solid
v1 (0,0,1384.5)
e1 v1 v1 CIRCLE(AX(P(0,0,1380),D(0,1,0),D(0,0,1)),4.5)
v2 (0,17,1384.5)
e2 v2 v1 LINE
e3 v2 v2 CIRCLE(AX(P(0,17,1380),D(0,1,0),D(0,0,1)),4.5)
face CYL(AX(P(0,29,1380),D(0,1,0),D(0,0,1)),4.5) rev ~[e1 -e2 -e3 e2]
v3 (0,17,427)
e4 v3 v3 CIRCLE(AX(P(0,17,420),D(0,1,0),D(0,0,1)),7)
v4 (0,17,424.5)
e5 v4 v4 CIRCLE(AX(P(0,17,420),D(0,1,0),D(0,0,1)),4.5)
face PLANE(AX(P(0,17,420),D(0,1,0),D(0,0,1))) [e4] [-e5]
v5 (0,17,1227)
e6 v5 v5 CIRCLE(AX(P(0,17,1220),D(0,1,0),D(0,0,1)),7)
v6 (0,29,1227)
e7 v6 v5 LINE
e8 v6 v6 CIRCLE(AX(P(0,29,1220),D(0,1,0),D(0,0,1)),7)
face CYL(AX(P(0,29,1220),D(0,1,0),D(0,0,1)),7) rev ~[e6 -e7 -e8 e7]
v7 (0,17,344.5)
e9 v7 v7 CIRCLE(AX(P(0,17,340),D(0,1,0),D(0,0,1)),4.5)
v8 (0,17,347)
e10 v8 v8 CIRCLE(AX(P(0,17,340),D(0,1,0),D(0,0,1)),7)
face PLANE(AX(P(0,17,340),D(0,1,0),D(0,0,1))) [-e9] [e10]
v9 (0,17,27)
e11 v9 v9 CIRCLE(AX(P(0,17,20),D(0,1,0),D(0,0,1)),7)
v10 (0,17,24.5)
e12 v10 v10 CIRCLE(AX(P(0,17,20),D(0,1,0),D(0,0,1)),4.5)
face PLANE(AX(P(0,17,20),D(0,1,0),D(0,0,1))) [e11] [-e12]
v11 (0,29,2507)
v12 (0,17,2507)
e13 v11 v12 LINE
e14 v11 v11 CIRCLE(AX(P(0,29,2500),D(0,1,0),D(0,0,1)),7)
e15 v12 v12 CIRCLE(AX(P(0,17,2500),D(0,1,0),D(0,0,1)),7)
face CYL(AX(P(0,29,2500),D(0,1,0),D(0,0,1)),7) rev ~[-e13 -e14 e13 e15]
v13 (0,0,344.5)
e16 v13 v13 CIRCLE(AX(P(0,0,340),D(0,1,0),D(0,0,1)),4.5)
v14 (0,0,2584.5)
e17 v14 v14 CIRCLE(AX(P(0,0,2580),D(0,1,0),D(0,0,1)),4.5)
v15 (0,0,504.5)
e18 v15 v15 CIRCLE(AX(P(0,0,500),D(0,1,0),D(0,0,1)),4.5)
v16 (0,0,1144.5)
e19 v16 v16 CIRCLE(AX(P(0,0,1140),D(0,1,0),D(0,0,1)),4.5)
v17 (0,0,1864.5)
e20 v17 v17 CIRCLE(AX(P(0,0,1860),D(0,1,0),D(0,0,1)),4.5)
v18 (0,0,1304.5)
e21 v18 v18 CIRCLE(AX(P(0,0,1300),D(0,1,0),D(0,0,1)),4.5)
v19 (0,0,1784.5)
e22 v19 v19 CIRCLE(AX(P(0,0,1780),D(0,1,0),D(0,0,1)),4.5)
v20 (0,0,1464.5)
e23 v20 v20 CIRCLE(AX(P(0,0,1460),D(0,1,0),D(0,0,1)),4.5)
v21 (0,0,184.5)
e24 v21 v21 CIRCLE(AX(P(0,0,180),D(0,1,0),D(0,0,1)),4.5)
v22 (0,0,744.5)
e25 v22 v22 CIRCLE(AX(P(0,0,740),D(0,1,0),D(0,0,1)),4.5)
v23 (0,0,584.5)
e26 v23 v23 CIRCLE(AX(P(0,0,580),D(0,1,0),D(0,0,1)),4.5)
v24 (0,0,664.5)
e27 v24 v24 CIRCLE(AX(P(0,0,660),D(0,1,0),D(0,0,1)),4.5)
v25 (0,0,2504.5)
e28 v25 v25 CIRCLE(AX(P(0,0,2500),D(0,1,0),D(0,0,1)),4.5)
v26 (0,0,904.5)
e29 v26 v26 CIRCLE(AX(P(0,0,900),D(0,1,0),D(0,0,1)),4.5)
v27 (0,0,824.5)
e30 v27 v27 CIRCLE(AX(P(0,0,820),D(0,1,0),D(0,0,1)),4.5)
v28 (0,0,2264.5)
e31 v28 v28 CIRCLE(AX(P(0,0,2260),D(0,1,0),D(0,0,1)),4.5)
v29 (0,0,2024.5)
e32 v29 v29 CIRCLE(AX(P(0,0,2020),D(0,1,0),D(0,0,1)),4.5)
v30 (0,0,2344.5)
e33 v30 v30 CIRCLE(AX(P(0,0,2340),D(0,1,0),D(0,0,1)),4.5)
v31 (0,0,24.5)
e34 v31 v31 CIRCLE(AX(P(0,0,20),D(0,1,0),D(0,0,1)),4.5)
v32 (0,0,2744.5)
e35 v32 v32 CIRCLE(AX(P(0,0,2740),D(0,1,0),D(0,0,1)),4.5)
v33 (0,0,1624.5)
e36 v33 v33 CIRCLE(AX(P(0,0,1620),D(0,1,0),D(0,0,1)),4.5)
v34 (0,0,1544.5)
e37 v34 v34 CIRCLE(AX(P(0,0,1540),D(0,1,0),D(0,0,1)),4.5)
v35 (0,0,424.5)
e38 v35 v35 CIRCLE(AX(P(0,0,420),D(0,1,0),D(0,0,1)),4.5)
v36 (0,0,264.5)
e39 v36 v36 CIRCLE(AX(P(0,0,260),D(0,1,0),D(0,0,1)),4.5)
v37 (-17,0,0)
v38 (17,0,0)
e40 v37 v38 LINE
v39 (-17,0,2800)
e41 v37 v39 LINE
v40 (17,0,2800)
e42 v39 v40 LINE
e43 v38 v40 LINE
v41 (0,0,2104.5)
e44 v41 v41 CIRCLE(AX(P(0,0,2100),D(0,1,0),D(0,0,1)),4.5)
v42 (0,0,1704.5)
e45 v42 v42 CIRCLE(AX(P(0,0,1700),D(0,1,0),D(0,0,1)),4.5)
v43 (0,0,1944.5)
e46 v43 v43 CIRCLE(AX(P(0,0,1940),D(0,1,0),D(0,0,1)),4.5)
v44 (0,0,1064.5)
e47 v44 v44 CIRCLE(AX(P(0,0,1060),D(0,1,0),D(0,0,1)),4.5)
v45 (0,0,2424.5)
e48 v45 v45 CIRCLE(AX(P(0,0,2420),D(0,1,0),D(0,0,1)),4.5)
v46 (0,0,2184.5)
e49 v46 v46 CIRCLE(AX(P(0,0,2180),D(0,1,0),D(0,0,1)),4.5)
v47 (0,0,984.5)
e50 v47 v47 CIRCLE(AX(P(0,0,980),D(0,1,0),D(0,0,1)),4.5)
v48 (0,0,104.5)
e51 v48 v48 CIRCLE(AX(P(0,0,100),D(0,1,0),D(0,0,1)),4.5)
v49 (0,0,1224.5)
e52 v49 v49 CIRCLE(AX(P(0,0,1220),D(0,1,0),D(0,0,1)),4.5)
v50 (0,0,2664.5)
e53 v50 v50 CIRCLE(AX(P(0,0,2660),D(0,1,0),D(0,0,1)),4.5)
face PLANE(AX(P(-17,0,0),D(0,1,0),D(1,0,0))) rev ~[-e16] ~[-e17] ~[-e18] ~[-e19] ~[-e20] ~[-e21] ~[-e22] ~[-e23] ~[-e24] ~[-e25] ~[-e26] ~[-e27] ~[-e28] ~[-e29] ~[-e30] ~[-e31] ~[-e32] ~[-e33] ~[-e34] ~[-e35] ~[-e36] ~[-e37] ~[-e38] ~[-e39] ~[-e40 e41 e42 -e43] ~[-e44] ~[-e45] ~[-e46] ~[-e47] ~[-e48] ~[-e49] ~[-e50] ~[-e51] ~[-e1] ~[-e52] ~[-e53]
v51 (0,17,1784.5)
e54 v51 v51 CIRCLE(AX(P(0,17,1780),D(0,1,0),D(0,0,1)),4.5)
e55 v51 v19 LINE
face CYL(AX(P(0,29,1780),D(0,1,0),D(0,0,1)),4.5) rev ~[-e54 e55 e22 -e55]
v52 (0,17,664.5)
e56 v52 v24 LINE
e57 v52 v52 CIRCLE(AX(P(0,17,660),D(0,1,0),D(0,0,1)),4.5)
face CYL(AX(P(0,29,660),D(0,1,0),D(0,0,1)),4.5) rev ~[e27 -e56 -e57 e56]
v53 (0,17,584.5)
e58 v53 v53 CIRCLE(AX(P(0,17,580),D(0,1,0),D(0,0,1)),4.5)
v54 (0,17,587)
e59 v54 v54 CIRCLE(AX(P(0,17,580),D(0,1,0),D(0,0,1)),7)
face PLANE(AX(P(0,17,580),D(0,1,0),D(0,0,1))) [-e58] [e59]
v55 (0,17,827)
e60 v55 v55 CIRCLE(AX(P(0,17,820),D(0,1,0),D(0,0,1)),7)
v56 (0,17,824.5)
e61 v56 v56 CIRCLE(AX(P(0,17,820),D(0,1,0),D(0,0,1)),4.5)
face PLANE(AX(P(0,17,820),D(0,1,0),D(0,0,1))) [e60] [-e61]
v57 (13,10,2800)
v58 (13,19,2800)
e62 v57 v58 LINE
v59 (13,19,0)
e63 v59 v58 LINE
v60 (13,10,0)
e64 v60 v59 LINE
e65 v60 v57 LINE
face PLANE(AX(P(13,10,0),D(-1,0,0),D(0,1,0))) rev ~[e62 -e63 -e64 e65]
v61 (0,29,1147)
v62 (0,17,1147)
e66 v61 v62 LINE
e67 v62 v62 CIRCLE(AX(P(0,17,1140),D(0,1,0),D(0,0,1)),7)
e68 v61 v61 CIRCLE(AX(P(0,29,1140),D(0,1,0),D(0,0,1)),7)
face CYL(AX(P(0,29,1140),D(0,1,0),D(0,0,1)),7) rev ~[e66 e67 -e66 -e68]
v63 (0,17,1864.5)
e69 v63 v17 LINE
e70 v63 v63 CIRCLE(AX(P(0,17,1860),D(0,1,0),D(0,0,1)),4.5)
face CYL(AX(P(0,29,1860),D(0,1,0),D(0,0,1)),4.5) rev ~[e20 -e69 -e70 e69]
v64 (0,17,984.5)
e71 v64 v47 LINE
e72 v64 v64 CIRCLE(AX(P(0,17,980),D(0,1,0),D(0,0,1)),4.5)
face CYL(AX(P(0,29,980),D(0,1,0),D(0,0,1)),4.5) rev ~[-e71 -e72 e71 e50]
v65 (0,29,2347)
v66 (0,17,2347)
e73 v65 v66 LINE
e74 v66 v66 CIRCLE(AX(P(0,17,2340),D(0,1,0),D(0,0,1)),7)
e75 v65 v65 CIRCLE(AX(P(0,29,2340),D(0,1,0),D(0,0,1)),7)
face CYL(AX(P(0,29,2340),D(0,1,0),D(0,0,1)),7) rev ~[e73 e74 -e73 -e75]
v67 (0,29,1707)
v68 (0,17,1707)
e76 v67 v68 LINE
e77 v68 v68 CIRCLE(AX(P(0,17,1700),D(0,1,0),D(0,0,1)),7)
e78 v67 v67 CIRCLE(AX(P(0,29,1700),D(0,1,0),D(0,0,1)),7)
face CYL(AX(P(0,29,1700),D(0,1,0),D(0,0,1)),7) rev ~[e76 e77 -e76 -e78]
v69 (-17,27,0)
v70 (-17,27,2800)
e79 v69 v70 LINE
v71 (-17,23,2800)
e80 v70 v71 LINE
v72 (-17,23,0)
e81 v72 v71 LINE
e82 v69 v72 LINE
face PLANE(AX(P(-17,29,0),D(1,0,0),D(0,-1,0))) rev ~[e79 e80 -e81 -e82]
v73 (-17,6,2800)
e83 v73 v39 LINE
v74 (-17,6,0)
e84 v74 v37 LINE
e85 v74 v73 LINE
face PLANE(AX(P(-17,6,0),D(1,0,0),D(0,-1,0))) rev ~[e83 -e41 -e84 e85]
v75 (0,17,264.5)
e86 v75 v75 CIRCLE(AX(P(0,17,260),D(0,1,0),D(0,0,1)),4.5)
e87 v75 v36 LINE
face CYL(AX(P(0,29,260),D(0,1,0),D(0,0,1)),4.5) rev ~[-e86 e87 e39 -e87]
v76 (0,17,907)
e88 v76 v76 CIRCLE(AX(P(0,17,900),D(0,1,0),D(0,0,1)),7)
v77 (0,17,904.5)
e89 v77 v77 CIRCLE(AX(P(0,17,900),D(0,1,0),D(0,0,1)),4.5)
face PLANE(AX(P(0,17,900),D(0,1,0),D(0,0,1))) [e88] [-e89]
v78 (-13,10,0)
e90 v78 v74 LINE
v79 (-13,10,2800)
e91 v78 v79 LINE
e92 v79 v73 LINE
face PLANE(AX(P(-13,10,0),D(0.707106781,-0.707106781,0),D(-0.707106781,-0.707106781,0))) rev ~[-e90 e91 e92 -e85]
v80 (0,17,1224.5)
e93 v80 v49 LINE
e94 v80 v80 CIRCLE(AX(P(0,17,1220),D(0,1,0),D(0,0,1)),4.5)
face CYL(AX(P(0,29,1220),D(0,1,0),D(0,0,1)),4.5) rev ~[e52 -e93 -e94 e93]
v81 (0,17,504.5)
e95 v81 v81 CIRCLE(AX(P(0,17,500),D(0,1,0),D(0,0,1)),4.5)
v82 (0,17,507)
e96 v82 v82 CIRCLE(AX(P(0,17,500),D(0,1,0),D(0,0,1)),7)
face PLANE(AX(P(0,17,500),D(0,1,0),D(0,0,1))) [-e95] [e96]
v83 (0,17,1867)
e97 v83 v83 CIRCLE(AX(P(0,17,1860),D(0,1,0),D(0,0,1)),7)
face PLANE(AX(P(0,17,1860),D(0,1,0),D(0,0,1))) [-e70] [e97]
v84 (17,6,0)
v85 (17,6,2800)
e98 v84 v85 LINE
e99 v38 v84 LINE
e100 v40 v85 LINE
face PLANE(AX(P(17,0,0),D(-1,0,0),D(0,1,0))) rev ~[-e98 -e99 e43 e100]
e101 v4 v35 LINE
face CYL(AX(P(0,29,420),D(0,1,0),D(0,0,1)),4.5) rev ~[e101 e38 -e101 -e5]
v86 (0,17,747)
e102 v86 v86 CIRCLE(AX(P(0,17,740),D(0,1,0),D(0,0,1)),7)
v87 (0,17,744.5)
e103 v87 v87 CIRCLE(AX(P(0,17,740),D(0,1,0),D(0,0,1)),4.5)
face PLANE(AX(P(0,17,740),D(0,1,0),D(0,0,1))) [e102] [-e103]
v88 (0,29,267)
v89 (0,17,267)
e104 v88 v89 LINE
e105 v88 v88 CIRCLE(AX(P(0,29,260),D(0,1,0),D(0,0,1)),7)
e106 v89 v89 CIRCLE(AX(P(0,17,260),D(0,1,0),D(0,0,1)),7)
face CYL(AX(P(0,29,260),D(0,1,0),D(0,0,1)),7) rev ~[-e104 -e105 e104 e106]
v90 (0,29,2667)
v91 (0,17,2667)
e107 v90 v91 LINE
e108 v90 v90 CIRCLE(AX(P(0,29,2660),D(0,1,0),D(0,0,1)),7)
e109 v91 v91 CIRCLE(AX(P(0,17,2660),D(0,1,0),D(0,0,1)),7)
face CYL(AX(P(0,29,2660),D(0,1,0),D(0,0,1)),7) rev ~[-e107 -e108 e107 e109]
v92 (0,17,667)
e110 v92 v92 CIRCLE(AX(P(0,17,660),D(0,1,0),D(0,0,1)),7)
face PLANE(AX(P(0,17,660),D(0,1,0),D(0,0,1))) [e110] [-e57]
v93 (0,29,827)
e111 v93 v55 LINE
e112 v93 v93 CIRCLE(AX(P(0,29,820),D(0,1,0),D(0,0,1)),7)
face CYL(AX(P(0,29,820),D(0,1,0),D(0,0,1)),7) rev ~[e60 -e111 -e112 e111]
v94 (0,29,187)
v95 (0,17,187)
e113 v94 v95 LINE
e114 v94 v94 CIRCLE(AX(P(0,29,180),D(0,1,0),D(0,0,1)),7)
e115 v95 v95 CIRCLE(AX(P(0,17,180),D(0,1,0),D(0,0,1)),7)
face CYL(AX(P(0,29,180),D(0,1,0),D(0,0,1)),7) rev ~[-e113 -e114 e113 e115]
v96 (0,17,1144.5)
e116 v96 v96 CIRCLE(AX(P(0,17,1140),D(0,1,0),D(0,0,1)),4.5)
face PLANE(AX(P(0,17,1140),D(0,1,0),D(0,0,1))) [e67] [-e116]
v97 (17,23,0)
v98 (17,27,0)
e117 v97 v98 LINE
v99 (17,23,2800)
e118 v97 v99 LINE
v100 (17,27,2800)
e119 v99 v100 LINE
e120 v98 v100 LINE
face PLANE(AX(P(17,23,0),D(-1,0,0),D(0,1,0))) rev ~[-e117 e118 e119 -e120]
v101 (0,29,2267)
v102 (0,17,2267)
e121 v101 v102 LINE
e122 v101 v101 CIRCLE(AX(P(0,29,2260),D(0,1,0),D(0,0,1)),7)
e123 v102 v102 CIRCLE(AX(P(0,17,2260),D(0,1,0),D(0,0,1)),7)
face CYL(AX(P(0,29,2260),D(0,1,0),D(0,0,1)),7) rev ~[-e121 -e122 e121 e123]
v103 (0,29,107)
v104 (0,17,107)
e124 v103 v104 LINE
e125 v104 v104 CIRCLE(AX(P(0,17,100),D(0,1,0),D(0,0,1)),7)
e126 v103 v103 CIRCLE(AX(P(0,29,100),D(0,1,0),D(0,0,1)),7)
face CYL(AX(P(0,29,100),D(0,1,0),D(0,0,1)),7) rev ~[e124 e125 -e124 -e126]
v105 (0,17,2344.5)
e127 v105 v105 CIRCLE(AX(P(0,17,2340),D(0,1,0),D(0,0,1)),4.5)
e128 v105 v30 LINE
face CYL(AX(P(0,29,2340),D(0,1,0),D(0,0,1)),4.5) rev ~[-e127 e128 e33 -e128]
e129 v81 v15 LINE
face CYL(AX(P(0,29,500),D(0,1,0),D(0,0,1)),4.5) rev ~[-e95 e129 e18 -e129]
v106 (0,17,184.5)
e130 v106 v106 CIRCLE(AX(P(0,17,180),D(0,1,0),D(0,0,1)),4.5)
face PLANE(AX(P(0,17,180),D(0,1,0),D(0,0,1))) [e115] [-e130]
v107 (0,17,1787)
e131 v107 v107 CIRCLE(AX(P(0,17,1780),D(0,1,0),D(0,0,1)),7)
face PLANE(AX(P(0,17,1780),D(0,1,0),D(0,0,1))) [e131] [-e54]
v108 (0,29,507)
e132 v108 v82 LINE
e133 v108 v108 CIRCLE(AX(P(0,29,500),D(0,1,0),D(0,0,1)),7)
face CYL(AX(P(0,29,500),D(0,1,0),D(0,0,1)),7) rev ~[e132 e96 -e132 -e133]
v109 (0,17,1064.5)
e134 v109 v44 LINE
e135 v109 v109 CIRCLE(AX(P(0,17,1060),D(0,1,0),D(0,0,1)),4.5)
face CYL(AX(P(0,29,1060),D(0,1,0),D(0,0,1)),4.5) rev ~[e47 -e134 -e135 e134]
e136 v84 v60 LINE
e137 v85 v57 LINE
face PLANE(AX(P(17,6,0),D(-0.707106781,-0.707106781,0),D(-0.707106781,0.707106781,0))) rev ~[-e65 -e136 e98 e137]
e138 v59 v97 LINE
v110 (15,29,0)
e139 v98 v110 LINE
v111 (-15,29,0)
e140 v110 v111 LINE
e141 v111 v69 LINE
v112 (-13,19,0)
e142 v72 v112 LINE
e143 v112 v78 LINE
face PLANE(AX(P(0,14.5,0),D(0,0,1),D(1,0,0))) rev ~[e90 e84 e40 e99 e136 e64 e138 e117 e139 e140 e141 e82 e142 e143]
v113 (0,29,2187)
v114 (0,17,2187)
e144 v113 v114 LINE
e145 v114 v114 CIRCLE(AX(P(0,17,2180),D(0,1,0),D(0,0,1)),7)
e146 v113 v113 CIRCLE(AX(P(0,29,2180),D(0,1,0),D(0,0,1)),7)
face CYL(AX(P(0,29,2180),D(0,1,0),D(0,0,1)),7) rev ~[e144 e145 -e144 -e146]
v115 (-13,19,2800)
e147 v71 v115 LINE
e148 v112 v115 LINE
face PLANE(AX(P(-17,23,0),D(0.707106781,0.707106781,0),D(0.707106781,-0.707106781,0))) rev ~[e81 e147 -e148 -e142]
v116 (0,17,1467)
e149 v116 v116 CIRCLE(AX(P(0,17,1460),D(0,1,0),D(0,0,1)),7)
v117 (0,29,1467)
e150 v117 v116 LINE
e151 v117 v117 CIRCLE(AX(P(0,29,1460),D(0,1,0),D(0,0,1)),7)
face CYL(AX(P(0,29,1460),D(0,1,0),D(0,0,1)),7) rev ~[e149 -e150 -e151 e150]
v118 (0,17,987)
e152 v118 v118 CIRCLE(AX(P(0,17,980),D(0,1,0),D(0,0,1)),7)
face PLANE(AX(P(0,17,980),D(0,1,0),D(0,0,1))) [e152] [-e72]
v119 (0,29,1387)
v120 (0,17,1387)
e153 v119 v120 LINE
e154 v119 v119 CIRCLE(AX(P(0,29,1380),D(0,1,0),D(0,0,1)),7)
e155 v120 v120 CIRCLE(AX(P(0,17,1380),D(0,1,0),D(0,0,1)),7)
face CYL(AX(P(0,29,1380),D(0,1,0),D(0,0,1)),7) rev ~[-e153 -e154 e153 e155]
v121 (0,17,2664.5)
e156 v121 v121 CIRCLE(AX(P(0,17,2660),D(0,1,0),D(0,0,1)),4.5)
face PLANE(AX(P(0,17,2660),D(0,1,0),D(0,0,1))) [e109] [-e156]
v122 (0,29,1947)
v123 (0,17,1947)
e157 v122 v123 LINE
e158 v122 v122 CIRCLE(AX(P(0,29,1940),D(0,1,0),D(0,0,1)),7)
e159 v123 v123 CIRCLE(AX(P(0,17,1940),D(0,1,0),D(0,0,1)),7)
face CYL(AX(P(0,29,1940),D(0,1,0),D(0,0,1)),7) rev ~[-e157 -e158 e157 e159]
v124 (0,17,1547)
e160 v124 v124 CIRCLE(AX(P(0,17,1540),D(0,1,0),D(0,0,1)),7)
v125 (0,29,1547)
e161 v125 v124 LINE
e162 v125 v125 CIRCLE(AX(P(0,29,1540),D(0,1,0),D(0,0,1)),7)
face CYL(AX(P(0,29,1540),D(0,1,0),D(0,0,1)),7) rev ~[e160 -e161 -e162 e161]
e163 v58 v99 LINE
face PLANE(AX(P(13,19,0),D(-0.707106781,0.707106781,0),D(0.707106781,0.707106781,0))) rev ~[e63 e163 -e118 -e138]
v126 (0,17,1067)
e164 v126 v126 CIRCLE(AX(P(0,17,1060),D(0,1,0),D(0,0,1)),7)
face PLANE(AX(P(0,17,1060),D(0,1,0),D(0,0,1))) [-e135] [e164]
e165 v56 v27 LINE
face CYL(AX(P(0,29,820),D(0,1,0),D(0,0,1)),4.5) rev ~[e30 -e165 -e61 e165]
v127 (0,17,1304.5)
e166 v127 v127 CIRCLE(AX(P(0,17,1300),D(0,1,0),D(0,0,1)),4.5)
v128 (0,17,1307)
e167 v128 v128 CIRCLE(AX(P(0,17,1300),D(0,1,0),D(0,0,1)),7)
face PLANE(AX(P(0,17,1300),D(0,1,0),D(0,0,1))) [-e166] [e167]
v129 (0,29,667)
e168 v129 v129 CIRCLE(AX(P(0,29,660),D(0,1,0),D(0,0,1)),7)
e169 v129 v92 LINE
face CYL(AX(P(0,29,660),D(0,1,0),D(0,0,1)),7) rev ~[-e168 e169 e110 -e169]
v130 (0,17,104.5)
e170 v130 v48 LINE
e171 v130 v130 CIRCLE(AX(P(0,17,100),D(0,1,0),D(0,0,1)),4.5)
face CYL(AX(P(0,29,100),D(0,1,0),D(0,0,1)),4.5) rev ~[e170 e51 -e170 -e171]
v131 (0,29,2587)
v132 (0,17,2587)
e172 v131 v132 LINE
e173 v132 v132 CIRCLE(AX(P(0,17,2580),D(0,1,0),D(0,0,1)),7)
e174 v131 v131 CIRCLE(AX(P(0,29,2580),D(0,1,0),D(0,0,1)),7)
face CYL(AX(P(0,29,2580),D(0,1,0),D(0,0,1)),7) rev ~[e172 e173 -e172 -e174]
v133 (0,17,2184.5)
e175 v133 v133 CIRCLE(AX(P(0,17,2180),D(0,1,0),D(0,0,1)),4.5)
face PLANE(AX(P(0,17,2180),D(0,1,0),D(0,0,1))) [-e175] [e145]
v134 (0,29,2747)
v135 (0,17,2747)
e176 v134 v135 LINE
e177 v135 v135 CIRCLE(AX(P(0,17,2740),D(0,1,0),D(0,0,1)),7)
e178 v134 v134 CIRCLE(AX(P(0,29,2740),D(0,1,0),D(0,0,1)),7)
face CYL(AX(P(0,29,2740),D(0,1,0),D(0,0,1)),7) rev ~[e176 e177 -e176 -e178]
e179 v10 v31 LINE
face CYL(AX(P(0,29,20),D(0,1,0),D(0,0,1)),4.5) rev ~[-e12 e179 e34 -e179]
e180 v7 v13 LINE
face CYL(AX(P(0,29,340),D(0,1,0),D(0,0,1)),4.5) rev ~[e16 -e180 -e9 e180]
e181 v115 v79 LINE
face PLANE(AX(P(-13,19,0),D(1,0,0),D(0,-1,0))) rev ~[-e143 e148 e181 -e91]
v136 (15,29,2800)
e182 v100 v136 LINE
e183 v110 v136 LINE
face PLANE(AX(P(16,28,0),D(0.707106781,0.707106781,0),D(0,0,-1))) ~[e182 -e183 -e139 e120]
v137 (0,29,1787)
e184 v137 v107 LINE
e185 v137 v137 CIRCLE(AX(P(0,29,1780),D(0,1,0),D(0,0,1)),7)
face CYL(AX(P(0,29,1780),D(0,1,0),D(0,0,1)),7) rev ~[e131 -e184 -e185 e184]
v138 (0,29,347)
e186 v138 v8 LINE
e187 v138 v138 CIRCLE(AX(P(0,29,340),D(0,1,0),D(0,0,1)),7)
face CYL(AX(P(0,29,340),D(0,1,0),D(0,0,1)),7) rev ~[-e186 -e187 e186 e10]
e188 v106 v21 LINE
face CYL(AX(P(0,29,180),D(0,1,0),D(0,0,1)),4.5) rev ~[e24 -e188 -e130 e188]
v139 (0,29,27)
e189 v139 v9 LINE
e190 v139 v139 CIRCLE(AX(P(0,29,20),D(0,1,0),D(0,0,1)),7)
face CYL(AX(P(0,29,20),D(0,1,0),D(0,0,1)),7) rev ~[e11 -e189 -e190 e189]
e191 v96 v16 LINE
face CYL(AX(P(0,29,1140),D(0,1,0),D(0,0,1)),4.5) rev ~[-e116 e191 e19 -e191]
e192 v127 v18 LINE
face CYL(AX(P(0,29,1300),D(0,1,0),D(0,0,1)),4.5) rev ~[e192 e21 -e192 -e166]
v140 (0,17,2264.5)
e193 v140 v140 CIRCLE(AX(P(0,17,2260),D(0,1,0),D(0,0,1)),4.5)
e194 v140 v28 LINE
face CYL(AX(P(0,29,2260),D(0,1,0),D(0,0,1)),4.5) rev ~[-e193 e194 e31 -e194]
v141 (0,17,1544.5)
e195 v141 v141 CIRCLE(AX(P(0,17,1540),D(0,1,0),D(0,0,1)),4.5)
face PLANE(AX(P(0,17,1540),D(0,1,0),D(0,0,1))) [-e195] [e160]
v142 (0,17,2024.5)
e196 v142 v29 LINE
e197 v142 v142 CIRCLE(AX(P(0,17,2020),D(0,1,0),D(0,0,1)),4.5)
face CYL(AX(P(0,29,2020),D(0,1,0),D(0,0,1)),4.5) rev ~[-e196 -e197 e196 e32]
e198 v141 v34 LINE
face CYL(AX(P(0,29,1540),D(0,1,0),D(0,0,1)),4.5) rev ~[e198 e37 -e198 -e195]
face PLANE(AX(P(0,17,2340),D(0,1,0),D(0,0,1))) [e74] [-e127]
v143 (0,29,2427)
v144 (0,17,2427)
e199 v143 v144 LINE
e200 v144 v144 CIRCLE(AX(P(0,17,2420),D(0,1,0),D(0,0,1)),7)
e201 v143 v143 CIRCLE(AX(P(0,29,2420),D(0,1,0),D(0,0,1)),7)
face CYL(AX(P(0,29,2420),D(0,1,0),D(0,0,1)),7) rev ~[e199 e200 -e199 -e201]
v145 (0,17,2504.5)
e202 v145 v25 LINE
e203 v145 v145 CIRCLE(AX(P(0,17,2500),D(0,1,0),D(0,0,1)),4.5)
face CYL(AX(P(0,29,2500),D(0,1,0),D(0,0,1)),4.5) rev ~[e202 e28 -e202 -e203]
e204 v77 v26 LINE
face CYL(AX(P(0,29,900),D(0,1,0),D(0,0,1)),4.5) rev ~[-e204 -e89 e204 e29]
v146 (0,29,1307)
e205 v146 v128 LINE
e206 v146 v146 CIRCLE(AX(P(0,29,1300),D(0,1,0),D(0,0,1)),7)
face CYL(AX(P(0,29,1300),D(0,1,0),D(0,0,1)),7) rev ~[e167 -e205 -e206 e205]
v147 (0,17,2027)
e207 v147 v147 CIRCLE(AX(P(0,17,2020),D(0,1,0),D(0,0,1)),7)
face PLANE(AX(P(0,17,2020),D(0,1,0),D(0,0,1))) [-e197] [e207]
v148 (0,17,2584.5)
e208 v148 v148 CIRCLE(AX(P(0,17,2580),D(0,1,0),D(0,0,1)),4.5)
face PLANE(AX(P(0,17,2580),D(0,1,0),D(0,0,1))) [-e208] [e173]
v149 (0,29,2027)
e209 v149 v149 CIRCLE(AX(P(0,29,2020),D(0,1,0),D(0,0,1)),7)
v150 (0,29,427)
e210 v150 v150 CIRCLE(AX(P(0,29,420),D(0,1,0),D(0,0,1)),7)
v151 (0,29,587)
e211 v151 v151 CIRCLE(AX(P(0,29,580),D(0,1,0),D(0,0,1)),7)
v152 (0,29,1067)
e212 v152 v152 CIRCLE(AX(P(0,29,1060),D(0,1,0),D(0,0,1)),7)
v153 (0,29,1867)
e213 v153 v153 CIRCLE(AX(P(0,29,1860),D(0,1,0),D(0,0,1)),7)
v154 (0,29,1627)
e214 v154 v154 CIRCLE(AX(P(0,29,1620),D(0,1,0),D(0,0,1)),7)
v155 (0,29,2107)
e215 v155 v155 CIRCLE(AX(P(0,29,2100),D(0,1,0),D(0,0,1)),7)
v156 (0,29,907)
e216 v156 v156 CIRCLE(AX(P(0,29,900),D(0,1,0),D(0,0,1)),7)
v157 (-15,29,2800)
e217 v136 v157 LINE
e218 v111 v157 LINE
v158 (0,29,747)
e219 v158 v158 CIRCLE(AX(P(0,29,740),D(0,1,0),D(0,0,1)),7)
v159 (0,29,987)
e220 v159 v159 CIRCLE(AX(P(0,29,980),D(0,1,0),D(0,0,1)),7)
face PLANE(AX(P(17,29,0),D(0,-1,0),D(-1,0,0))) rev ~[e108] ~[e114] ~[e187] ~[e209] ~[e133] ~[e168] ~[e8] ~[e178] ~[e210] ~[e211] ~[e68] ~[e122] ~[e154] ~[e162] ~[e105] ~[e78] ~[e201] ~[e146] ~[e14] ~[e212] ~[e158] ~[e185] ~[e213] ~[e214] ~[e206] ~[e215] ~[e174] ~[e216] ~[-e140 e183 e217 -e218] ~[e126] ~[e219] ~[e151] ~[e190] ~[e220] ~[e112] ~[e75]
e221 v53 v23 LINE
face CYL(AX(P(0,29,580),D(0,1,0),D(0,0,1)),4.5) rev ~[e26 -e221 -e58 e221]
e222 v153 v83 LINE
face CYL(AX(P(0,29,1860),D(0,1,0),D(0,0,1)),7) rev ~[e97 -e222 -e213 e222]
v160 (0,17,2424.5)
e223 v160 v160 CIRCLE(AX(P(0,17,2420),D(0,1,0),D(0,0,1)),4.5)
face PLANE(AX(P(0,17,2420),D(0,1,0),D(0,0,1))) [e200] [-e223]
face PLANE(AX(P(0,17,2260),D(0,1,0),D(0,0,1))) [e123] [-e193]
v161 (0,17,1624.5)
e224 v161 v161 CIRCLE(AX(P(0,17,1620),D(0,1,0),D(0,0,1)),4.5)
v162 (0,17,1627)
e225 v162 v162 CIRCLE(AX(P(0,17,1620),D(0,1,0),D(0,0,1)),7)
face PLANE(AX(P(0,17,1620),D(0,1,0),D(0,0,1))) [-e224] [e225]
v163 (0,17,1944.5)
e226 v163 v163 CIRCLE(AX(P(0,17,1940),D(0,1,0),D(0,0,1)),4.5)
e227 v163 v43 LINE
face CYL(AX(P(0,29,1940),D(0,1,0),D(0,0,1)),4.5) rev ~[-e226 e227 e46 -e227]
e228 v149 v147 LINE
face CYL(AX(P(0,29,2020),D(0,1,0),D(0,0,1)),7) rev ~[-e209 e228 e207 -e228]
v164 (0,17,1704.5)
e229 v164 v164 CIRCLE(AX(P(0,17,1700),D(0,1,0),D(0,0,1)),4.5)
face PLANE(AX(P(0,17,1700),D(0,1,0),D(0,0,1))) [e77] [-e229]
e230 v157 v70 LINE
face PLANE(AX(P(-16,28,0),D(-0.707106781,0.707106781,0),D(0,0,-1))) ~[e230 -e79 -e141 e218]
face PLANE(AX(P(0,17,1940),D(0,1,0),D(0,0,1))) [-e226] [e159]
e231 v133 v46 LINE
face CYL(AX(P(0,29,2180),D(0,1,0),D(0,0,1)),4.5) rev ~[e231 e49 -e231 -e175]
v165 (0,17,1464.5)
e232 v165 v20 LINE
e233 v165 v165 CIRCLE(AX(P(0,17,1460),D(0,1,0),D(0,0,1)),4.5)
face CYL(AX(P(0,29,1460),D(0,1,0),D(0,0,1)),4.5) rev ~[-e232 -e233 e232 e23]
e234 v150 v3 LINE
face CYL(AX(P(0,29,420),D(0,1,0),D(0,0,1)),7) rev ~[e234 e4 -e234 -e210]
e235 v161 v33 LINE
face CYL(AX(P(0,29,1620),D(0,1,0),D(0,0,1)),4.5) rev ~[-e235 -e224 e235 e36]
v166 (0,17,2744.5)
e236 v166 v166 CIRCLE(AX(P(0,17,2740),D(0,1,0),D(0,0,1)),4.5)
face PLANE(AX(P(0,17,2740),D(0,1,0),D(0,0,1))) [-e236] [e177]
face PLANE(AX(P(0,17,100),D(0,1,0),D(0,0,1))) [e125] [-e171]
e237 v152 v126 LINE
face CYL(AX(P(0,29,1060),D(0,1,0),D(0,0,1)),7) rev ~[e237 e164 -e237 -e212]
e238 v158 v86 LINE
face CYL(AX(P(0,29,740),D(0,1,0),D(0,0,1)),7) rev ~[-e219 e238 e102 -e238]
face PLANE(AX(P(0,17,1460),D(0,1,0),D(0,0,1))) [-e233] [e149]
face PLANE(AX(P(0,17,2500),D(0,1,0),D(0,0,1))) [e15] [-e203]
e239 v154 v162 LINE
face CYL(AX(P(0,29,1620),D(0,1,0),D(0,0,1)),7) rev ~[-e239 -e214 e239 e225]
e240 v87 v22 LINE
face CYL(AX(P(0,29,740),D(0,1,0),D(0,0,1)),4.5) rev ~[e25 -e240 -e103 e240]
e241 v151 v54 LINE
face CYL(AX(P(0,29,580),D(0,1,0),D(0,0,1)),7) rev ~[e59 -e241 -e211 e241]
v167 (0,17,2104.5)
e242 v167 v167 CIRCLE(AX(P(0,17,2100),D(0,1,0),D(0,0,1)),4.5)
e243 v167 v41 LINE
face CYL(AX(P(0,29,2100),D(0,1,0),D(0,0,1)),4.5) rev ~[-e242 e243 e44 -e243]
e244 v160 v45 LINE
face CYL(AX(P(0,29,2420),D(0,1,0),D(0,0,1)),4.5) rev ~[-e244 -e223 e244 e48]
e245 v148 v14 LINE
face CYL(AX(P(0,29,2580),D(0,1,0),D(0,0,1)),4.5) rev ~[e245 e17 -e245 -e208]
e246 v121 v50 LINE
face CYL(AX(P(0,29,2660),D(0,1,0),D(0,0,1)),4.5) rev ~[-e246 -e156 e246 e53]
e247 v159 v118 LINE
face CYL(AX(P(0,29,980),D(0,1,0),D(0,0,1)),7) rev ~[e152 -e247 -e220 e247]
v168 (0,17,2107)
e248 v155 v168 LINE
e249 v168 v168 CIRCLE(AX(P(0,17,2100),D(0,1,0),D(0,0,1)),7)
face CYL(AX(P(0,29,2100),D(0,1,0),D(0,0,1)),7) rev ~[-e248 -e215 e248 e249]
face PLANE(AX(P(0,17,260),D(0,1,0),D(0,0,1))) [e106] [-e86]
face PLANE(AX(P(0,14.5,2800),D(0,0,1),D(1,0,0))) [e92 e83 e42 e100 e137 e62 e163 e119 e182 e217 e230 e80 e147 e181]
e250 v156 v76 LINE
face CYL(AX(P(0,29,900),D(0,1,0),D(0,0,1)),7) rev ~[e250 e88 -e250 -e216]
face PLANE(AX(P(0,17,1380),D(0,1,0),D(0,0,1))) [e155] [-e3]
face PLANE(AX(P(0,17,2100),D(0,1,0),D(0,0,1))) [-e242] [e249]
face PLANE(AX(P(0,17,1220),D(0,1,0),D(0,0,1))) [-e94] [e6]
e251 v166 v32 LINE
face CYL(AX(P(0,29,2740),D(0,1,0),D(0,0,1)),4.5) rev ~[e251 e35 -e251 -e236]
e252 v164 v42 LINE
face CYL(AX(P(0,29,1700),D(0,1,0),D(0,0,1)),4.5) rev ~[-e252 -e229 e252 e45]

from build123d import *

# Parameters (mm, degrees)
EXTRUDE_1_DEPTH        = 2800
CHAMFER_1_SIZE         = 2
SKETCH_2_R             = 7
CUT_EXTRUDE_1_DEPTH    = 12
PATTERN_LINEAR_1_COUNT = 35
PATTERN_LINEAR_1_PITCH = 80
SKETCH_3_R             = 4.5
CUT_EXTRUDE_2_DEPTH    = 40
PATTERN_LINEAR_2_COUNT = 35
PATTERN_LINEAR_2_PITCH = 80


with BuildPart() as part:
    # 草图1 → 凸台-拉伸1 (new body)
    with BuildSketch(Plane.XY):
        Polygon((-17, 0), (17, 0), (17, 6), (13, 10), (13, 19), (17, 23), (17, 29), (-17, 29), (-17, 23), (-13, 19), (-13, 10), (-17, 6), align=None)
    extrude(amount=EXTRUDE_1_DEPTH)

    # 倒角1
    chamfer_1_edges = [part.edges().sort_by_distance(p)[0] for p in [
        (-17, 29, 1400),
        (17, 29, 1400),
    ]]
    chamfer(chamfer_1_edges, length=CHAMFER_1_SIZE)

    # 草图2 → 切除-拉伸1 (cut)
    with BuildSketch(Plane(origin=(0, 29, 0), x_dir=(1, 0, 0), z_dir=(0, 1, 0))):
        with Locations(Location((0, -20, 0), (0, 0, 270))):
            Circle(SKETCH_2_R)
    cut_extrude_1 = extrude(amount=-CUT_EXTRUDE_1_DEPTH, mode=Mode.SUBTRACT)

    # 阵列(线性)1: 切除-拉伸1 ×35
    with Locations(*[(0, 0, i * PATTERN_LINEAR_1_PITCH) for i in range(1, PATTERN_LINEAR_1_COUNT)]):
        add(cut_extrude_1, mode=Mode.SUBTRACT)

    # 草图3 → 切除-拉伸2 (cut)
    with BuildSketch(Plane(origin=(0, 29, 0), x_dir=(1, 0, 0), z_dir=(0, 1, 0))):
        with Locations(Location((0, -20, 0), (0, 0, 270))):
            Circle(SKETCH_3_R)
    cut_extrude_2 = extrude(amount=-CUT_EXTRUDE_2_DEPTH, mode=Mode.SUBTRACT)

    # 阵列(线性)2: 切除-拉伸2 ×35
    with Locations(*[(0, 0, i * PATTERN_LINEAR_2_PITCH) for i in range(1, PATTERN_LINEAR_2_COUNT)]):
        add(cut_extrude_2, mode=Mode.SUBTRACT)


solid = part.part
